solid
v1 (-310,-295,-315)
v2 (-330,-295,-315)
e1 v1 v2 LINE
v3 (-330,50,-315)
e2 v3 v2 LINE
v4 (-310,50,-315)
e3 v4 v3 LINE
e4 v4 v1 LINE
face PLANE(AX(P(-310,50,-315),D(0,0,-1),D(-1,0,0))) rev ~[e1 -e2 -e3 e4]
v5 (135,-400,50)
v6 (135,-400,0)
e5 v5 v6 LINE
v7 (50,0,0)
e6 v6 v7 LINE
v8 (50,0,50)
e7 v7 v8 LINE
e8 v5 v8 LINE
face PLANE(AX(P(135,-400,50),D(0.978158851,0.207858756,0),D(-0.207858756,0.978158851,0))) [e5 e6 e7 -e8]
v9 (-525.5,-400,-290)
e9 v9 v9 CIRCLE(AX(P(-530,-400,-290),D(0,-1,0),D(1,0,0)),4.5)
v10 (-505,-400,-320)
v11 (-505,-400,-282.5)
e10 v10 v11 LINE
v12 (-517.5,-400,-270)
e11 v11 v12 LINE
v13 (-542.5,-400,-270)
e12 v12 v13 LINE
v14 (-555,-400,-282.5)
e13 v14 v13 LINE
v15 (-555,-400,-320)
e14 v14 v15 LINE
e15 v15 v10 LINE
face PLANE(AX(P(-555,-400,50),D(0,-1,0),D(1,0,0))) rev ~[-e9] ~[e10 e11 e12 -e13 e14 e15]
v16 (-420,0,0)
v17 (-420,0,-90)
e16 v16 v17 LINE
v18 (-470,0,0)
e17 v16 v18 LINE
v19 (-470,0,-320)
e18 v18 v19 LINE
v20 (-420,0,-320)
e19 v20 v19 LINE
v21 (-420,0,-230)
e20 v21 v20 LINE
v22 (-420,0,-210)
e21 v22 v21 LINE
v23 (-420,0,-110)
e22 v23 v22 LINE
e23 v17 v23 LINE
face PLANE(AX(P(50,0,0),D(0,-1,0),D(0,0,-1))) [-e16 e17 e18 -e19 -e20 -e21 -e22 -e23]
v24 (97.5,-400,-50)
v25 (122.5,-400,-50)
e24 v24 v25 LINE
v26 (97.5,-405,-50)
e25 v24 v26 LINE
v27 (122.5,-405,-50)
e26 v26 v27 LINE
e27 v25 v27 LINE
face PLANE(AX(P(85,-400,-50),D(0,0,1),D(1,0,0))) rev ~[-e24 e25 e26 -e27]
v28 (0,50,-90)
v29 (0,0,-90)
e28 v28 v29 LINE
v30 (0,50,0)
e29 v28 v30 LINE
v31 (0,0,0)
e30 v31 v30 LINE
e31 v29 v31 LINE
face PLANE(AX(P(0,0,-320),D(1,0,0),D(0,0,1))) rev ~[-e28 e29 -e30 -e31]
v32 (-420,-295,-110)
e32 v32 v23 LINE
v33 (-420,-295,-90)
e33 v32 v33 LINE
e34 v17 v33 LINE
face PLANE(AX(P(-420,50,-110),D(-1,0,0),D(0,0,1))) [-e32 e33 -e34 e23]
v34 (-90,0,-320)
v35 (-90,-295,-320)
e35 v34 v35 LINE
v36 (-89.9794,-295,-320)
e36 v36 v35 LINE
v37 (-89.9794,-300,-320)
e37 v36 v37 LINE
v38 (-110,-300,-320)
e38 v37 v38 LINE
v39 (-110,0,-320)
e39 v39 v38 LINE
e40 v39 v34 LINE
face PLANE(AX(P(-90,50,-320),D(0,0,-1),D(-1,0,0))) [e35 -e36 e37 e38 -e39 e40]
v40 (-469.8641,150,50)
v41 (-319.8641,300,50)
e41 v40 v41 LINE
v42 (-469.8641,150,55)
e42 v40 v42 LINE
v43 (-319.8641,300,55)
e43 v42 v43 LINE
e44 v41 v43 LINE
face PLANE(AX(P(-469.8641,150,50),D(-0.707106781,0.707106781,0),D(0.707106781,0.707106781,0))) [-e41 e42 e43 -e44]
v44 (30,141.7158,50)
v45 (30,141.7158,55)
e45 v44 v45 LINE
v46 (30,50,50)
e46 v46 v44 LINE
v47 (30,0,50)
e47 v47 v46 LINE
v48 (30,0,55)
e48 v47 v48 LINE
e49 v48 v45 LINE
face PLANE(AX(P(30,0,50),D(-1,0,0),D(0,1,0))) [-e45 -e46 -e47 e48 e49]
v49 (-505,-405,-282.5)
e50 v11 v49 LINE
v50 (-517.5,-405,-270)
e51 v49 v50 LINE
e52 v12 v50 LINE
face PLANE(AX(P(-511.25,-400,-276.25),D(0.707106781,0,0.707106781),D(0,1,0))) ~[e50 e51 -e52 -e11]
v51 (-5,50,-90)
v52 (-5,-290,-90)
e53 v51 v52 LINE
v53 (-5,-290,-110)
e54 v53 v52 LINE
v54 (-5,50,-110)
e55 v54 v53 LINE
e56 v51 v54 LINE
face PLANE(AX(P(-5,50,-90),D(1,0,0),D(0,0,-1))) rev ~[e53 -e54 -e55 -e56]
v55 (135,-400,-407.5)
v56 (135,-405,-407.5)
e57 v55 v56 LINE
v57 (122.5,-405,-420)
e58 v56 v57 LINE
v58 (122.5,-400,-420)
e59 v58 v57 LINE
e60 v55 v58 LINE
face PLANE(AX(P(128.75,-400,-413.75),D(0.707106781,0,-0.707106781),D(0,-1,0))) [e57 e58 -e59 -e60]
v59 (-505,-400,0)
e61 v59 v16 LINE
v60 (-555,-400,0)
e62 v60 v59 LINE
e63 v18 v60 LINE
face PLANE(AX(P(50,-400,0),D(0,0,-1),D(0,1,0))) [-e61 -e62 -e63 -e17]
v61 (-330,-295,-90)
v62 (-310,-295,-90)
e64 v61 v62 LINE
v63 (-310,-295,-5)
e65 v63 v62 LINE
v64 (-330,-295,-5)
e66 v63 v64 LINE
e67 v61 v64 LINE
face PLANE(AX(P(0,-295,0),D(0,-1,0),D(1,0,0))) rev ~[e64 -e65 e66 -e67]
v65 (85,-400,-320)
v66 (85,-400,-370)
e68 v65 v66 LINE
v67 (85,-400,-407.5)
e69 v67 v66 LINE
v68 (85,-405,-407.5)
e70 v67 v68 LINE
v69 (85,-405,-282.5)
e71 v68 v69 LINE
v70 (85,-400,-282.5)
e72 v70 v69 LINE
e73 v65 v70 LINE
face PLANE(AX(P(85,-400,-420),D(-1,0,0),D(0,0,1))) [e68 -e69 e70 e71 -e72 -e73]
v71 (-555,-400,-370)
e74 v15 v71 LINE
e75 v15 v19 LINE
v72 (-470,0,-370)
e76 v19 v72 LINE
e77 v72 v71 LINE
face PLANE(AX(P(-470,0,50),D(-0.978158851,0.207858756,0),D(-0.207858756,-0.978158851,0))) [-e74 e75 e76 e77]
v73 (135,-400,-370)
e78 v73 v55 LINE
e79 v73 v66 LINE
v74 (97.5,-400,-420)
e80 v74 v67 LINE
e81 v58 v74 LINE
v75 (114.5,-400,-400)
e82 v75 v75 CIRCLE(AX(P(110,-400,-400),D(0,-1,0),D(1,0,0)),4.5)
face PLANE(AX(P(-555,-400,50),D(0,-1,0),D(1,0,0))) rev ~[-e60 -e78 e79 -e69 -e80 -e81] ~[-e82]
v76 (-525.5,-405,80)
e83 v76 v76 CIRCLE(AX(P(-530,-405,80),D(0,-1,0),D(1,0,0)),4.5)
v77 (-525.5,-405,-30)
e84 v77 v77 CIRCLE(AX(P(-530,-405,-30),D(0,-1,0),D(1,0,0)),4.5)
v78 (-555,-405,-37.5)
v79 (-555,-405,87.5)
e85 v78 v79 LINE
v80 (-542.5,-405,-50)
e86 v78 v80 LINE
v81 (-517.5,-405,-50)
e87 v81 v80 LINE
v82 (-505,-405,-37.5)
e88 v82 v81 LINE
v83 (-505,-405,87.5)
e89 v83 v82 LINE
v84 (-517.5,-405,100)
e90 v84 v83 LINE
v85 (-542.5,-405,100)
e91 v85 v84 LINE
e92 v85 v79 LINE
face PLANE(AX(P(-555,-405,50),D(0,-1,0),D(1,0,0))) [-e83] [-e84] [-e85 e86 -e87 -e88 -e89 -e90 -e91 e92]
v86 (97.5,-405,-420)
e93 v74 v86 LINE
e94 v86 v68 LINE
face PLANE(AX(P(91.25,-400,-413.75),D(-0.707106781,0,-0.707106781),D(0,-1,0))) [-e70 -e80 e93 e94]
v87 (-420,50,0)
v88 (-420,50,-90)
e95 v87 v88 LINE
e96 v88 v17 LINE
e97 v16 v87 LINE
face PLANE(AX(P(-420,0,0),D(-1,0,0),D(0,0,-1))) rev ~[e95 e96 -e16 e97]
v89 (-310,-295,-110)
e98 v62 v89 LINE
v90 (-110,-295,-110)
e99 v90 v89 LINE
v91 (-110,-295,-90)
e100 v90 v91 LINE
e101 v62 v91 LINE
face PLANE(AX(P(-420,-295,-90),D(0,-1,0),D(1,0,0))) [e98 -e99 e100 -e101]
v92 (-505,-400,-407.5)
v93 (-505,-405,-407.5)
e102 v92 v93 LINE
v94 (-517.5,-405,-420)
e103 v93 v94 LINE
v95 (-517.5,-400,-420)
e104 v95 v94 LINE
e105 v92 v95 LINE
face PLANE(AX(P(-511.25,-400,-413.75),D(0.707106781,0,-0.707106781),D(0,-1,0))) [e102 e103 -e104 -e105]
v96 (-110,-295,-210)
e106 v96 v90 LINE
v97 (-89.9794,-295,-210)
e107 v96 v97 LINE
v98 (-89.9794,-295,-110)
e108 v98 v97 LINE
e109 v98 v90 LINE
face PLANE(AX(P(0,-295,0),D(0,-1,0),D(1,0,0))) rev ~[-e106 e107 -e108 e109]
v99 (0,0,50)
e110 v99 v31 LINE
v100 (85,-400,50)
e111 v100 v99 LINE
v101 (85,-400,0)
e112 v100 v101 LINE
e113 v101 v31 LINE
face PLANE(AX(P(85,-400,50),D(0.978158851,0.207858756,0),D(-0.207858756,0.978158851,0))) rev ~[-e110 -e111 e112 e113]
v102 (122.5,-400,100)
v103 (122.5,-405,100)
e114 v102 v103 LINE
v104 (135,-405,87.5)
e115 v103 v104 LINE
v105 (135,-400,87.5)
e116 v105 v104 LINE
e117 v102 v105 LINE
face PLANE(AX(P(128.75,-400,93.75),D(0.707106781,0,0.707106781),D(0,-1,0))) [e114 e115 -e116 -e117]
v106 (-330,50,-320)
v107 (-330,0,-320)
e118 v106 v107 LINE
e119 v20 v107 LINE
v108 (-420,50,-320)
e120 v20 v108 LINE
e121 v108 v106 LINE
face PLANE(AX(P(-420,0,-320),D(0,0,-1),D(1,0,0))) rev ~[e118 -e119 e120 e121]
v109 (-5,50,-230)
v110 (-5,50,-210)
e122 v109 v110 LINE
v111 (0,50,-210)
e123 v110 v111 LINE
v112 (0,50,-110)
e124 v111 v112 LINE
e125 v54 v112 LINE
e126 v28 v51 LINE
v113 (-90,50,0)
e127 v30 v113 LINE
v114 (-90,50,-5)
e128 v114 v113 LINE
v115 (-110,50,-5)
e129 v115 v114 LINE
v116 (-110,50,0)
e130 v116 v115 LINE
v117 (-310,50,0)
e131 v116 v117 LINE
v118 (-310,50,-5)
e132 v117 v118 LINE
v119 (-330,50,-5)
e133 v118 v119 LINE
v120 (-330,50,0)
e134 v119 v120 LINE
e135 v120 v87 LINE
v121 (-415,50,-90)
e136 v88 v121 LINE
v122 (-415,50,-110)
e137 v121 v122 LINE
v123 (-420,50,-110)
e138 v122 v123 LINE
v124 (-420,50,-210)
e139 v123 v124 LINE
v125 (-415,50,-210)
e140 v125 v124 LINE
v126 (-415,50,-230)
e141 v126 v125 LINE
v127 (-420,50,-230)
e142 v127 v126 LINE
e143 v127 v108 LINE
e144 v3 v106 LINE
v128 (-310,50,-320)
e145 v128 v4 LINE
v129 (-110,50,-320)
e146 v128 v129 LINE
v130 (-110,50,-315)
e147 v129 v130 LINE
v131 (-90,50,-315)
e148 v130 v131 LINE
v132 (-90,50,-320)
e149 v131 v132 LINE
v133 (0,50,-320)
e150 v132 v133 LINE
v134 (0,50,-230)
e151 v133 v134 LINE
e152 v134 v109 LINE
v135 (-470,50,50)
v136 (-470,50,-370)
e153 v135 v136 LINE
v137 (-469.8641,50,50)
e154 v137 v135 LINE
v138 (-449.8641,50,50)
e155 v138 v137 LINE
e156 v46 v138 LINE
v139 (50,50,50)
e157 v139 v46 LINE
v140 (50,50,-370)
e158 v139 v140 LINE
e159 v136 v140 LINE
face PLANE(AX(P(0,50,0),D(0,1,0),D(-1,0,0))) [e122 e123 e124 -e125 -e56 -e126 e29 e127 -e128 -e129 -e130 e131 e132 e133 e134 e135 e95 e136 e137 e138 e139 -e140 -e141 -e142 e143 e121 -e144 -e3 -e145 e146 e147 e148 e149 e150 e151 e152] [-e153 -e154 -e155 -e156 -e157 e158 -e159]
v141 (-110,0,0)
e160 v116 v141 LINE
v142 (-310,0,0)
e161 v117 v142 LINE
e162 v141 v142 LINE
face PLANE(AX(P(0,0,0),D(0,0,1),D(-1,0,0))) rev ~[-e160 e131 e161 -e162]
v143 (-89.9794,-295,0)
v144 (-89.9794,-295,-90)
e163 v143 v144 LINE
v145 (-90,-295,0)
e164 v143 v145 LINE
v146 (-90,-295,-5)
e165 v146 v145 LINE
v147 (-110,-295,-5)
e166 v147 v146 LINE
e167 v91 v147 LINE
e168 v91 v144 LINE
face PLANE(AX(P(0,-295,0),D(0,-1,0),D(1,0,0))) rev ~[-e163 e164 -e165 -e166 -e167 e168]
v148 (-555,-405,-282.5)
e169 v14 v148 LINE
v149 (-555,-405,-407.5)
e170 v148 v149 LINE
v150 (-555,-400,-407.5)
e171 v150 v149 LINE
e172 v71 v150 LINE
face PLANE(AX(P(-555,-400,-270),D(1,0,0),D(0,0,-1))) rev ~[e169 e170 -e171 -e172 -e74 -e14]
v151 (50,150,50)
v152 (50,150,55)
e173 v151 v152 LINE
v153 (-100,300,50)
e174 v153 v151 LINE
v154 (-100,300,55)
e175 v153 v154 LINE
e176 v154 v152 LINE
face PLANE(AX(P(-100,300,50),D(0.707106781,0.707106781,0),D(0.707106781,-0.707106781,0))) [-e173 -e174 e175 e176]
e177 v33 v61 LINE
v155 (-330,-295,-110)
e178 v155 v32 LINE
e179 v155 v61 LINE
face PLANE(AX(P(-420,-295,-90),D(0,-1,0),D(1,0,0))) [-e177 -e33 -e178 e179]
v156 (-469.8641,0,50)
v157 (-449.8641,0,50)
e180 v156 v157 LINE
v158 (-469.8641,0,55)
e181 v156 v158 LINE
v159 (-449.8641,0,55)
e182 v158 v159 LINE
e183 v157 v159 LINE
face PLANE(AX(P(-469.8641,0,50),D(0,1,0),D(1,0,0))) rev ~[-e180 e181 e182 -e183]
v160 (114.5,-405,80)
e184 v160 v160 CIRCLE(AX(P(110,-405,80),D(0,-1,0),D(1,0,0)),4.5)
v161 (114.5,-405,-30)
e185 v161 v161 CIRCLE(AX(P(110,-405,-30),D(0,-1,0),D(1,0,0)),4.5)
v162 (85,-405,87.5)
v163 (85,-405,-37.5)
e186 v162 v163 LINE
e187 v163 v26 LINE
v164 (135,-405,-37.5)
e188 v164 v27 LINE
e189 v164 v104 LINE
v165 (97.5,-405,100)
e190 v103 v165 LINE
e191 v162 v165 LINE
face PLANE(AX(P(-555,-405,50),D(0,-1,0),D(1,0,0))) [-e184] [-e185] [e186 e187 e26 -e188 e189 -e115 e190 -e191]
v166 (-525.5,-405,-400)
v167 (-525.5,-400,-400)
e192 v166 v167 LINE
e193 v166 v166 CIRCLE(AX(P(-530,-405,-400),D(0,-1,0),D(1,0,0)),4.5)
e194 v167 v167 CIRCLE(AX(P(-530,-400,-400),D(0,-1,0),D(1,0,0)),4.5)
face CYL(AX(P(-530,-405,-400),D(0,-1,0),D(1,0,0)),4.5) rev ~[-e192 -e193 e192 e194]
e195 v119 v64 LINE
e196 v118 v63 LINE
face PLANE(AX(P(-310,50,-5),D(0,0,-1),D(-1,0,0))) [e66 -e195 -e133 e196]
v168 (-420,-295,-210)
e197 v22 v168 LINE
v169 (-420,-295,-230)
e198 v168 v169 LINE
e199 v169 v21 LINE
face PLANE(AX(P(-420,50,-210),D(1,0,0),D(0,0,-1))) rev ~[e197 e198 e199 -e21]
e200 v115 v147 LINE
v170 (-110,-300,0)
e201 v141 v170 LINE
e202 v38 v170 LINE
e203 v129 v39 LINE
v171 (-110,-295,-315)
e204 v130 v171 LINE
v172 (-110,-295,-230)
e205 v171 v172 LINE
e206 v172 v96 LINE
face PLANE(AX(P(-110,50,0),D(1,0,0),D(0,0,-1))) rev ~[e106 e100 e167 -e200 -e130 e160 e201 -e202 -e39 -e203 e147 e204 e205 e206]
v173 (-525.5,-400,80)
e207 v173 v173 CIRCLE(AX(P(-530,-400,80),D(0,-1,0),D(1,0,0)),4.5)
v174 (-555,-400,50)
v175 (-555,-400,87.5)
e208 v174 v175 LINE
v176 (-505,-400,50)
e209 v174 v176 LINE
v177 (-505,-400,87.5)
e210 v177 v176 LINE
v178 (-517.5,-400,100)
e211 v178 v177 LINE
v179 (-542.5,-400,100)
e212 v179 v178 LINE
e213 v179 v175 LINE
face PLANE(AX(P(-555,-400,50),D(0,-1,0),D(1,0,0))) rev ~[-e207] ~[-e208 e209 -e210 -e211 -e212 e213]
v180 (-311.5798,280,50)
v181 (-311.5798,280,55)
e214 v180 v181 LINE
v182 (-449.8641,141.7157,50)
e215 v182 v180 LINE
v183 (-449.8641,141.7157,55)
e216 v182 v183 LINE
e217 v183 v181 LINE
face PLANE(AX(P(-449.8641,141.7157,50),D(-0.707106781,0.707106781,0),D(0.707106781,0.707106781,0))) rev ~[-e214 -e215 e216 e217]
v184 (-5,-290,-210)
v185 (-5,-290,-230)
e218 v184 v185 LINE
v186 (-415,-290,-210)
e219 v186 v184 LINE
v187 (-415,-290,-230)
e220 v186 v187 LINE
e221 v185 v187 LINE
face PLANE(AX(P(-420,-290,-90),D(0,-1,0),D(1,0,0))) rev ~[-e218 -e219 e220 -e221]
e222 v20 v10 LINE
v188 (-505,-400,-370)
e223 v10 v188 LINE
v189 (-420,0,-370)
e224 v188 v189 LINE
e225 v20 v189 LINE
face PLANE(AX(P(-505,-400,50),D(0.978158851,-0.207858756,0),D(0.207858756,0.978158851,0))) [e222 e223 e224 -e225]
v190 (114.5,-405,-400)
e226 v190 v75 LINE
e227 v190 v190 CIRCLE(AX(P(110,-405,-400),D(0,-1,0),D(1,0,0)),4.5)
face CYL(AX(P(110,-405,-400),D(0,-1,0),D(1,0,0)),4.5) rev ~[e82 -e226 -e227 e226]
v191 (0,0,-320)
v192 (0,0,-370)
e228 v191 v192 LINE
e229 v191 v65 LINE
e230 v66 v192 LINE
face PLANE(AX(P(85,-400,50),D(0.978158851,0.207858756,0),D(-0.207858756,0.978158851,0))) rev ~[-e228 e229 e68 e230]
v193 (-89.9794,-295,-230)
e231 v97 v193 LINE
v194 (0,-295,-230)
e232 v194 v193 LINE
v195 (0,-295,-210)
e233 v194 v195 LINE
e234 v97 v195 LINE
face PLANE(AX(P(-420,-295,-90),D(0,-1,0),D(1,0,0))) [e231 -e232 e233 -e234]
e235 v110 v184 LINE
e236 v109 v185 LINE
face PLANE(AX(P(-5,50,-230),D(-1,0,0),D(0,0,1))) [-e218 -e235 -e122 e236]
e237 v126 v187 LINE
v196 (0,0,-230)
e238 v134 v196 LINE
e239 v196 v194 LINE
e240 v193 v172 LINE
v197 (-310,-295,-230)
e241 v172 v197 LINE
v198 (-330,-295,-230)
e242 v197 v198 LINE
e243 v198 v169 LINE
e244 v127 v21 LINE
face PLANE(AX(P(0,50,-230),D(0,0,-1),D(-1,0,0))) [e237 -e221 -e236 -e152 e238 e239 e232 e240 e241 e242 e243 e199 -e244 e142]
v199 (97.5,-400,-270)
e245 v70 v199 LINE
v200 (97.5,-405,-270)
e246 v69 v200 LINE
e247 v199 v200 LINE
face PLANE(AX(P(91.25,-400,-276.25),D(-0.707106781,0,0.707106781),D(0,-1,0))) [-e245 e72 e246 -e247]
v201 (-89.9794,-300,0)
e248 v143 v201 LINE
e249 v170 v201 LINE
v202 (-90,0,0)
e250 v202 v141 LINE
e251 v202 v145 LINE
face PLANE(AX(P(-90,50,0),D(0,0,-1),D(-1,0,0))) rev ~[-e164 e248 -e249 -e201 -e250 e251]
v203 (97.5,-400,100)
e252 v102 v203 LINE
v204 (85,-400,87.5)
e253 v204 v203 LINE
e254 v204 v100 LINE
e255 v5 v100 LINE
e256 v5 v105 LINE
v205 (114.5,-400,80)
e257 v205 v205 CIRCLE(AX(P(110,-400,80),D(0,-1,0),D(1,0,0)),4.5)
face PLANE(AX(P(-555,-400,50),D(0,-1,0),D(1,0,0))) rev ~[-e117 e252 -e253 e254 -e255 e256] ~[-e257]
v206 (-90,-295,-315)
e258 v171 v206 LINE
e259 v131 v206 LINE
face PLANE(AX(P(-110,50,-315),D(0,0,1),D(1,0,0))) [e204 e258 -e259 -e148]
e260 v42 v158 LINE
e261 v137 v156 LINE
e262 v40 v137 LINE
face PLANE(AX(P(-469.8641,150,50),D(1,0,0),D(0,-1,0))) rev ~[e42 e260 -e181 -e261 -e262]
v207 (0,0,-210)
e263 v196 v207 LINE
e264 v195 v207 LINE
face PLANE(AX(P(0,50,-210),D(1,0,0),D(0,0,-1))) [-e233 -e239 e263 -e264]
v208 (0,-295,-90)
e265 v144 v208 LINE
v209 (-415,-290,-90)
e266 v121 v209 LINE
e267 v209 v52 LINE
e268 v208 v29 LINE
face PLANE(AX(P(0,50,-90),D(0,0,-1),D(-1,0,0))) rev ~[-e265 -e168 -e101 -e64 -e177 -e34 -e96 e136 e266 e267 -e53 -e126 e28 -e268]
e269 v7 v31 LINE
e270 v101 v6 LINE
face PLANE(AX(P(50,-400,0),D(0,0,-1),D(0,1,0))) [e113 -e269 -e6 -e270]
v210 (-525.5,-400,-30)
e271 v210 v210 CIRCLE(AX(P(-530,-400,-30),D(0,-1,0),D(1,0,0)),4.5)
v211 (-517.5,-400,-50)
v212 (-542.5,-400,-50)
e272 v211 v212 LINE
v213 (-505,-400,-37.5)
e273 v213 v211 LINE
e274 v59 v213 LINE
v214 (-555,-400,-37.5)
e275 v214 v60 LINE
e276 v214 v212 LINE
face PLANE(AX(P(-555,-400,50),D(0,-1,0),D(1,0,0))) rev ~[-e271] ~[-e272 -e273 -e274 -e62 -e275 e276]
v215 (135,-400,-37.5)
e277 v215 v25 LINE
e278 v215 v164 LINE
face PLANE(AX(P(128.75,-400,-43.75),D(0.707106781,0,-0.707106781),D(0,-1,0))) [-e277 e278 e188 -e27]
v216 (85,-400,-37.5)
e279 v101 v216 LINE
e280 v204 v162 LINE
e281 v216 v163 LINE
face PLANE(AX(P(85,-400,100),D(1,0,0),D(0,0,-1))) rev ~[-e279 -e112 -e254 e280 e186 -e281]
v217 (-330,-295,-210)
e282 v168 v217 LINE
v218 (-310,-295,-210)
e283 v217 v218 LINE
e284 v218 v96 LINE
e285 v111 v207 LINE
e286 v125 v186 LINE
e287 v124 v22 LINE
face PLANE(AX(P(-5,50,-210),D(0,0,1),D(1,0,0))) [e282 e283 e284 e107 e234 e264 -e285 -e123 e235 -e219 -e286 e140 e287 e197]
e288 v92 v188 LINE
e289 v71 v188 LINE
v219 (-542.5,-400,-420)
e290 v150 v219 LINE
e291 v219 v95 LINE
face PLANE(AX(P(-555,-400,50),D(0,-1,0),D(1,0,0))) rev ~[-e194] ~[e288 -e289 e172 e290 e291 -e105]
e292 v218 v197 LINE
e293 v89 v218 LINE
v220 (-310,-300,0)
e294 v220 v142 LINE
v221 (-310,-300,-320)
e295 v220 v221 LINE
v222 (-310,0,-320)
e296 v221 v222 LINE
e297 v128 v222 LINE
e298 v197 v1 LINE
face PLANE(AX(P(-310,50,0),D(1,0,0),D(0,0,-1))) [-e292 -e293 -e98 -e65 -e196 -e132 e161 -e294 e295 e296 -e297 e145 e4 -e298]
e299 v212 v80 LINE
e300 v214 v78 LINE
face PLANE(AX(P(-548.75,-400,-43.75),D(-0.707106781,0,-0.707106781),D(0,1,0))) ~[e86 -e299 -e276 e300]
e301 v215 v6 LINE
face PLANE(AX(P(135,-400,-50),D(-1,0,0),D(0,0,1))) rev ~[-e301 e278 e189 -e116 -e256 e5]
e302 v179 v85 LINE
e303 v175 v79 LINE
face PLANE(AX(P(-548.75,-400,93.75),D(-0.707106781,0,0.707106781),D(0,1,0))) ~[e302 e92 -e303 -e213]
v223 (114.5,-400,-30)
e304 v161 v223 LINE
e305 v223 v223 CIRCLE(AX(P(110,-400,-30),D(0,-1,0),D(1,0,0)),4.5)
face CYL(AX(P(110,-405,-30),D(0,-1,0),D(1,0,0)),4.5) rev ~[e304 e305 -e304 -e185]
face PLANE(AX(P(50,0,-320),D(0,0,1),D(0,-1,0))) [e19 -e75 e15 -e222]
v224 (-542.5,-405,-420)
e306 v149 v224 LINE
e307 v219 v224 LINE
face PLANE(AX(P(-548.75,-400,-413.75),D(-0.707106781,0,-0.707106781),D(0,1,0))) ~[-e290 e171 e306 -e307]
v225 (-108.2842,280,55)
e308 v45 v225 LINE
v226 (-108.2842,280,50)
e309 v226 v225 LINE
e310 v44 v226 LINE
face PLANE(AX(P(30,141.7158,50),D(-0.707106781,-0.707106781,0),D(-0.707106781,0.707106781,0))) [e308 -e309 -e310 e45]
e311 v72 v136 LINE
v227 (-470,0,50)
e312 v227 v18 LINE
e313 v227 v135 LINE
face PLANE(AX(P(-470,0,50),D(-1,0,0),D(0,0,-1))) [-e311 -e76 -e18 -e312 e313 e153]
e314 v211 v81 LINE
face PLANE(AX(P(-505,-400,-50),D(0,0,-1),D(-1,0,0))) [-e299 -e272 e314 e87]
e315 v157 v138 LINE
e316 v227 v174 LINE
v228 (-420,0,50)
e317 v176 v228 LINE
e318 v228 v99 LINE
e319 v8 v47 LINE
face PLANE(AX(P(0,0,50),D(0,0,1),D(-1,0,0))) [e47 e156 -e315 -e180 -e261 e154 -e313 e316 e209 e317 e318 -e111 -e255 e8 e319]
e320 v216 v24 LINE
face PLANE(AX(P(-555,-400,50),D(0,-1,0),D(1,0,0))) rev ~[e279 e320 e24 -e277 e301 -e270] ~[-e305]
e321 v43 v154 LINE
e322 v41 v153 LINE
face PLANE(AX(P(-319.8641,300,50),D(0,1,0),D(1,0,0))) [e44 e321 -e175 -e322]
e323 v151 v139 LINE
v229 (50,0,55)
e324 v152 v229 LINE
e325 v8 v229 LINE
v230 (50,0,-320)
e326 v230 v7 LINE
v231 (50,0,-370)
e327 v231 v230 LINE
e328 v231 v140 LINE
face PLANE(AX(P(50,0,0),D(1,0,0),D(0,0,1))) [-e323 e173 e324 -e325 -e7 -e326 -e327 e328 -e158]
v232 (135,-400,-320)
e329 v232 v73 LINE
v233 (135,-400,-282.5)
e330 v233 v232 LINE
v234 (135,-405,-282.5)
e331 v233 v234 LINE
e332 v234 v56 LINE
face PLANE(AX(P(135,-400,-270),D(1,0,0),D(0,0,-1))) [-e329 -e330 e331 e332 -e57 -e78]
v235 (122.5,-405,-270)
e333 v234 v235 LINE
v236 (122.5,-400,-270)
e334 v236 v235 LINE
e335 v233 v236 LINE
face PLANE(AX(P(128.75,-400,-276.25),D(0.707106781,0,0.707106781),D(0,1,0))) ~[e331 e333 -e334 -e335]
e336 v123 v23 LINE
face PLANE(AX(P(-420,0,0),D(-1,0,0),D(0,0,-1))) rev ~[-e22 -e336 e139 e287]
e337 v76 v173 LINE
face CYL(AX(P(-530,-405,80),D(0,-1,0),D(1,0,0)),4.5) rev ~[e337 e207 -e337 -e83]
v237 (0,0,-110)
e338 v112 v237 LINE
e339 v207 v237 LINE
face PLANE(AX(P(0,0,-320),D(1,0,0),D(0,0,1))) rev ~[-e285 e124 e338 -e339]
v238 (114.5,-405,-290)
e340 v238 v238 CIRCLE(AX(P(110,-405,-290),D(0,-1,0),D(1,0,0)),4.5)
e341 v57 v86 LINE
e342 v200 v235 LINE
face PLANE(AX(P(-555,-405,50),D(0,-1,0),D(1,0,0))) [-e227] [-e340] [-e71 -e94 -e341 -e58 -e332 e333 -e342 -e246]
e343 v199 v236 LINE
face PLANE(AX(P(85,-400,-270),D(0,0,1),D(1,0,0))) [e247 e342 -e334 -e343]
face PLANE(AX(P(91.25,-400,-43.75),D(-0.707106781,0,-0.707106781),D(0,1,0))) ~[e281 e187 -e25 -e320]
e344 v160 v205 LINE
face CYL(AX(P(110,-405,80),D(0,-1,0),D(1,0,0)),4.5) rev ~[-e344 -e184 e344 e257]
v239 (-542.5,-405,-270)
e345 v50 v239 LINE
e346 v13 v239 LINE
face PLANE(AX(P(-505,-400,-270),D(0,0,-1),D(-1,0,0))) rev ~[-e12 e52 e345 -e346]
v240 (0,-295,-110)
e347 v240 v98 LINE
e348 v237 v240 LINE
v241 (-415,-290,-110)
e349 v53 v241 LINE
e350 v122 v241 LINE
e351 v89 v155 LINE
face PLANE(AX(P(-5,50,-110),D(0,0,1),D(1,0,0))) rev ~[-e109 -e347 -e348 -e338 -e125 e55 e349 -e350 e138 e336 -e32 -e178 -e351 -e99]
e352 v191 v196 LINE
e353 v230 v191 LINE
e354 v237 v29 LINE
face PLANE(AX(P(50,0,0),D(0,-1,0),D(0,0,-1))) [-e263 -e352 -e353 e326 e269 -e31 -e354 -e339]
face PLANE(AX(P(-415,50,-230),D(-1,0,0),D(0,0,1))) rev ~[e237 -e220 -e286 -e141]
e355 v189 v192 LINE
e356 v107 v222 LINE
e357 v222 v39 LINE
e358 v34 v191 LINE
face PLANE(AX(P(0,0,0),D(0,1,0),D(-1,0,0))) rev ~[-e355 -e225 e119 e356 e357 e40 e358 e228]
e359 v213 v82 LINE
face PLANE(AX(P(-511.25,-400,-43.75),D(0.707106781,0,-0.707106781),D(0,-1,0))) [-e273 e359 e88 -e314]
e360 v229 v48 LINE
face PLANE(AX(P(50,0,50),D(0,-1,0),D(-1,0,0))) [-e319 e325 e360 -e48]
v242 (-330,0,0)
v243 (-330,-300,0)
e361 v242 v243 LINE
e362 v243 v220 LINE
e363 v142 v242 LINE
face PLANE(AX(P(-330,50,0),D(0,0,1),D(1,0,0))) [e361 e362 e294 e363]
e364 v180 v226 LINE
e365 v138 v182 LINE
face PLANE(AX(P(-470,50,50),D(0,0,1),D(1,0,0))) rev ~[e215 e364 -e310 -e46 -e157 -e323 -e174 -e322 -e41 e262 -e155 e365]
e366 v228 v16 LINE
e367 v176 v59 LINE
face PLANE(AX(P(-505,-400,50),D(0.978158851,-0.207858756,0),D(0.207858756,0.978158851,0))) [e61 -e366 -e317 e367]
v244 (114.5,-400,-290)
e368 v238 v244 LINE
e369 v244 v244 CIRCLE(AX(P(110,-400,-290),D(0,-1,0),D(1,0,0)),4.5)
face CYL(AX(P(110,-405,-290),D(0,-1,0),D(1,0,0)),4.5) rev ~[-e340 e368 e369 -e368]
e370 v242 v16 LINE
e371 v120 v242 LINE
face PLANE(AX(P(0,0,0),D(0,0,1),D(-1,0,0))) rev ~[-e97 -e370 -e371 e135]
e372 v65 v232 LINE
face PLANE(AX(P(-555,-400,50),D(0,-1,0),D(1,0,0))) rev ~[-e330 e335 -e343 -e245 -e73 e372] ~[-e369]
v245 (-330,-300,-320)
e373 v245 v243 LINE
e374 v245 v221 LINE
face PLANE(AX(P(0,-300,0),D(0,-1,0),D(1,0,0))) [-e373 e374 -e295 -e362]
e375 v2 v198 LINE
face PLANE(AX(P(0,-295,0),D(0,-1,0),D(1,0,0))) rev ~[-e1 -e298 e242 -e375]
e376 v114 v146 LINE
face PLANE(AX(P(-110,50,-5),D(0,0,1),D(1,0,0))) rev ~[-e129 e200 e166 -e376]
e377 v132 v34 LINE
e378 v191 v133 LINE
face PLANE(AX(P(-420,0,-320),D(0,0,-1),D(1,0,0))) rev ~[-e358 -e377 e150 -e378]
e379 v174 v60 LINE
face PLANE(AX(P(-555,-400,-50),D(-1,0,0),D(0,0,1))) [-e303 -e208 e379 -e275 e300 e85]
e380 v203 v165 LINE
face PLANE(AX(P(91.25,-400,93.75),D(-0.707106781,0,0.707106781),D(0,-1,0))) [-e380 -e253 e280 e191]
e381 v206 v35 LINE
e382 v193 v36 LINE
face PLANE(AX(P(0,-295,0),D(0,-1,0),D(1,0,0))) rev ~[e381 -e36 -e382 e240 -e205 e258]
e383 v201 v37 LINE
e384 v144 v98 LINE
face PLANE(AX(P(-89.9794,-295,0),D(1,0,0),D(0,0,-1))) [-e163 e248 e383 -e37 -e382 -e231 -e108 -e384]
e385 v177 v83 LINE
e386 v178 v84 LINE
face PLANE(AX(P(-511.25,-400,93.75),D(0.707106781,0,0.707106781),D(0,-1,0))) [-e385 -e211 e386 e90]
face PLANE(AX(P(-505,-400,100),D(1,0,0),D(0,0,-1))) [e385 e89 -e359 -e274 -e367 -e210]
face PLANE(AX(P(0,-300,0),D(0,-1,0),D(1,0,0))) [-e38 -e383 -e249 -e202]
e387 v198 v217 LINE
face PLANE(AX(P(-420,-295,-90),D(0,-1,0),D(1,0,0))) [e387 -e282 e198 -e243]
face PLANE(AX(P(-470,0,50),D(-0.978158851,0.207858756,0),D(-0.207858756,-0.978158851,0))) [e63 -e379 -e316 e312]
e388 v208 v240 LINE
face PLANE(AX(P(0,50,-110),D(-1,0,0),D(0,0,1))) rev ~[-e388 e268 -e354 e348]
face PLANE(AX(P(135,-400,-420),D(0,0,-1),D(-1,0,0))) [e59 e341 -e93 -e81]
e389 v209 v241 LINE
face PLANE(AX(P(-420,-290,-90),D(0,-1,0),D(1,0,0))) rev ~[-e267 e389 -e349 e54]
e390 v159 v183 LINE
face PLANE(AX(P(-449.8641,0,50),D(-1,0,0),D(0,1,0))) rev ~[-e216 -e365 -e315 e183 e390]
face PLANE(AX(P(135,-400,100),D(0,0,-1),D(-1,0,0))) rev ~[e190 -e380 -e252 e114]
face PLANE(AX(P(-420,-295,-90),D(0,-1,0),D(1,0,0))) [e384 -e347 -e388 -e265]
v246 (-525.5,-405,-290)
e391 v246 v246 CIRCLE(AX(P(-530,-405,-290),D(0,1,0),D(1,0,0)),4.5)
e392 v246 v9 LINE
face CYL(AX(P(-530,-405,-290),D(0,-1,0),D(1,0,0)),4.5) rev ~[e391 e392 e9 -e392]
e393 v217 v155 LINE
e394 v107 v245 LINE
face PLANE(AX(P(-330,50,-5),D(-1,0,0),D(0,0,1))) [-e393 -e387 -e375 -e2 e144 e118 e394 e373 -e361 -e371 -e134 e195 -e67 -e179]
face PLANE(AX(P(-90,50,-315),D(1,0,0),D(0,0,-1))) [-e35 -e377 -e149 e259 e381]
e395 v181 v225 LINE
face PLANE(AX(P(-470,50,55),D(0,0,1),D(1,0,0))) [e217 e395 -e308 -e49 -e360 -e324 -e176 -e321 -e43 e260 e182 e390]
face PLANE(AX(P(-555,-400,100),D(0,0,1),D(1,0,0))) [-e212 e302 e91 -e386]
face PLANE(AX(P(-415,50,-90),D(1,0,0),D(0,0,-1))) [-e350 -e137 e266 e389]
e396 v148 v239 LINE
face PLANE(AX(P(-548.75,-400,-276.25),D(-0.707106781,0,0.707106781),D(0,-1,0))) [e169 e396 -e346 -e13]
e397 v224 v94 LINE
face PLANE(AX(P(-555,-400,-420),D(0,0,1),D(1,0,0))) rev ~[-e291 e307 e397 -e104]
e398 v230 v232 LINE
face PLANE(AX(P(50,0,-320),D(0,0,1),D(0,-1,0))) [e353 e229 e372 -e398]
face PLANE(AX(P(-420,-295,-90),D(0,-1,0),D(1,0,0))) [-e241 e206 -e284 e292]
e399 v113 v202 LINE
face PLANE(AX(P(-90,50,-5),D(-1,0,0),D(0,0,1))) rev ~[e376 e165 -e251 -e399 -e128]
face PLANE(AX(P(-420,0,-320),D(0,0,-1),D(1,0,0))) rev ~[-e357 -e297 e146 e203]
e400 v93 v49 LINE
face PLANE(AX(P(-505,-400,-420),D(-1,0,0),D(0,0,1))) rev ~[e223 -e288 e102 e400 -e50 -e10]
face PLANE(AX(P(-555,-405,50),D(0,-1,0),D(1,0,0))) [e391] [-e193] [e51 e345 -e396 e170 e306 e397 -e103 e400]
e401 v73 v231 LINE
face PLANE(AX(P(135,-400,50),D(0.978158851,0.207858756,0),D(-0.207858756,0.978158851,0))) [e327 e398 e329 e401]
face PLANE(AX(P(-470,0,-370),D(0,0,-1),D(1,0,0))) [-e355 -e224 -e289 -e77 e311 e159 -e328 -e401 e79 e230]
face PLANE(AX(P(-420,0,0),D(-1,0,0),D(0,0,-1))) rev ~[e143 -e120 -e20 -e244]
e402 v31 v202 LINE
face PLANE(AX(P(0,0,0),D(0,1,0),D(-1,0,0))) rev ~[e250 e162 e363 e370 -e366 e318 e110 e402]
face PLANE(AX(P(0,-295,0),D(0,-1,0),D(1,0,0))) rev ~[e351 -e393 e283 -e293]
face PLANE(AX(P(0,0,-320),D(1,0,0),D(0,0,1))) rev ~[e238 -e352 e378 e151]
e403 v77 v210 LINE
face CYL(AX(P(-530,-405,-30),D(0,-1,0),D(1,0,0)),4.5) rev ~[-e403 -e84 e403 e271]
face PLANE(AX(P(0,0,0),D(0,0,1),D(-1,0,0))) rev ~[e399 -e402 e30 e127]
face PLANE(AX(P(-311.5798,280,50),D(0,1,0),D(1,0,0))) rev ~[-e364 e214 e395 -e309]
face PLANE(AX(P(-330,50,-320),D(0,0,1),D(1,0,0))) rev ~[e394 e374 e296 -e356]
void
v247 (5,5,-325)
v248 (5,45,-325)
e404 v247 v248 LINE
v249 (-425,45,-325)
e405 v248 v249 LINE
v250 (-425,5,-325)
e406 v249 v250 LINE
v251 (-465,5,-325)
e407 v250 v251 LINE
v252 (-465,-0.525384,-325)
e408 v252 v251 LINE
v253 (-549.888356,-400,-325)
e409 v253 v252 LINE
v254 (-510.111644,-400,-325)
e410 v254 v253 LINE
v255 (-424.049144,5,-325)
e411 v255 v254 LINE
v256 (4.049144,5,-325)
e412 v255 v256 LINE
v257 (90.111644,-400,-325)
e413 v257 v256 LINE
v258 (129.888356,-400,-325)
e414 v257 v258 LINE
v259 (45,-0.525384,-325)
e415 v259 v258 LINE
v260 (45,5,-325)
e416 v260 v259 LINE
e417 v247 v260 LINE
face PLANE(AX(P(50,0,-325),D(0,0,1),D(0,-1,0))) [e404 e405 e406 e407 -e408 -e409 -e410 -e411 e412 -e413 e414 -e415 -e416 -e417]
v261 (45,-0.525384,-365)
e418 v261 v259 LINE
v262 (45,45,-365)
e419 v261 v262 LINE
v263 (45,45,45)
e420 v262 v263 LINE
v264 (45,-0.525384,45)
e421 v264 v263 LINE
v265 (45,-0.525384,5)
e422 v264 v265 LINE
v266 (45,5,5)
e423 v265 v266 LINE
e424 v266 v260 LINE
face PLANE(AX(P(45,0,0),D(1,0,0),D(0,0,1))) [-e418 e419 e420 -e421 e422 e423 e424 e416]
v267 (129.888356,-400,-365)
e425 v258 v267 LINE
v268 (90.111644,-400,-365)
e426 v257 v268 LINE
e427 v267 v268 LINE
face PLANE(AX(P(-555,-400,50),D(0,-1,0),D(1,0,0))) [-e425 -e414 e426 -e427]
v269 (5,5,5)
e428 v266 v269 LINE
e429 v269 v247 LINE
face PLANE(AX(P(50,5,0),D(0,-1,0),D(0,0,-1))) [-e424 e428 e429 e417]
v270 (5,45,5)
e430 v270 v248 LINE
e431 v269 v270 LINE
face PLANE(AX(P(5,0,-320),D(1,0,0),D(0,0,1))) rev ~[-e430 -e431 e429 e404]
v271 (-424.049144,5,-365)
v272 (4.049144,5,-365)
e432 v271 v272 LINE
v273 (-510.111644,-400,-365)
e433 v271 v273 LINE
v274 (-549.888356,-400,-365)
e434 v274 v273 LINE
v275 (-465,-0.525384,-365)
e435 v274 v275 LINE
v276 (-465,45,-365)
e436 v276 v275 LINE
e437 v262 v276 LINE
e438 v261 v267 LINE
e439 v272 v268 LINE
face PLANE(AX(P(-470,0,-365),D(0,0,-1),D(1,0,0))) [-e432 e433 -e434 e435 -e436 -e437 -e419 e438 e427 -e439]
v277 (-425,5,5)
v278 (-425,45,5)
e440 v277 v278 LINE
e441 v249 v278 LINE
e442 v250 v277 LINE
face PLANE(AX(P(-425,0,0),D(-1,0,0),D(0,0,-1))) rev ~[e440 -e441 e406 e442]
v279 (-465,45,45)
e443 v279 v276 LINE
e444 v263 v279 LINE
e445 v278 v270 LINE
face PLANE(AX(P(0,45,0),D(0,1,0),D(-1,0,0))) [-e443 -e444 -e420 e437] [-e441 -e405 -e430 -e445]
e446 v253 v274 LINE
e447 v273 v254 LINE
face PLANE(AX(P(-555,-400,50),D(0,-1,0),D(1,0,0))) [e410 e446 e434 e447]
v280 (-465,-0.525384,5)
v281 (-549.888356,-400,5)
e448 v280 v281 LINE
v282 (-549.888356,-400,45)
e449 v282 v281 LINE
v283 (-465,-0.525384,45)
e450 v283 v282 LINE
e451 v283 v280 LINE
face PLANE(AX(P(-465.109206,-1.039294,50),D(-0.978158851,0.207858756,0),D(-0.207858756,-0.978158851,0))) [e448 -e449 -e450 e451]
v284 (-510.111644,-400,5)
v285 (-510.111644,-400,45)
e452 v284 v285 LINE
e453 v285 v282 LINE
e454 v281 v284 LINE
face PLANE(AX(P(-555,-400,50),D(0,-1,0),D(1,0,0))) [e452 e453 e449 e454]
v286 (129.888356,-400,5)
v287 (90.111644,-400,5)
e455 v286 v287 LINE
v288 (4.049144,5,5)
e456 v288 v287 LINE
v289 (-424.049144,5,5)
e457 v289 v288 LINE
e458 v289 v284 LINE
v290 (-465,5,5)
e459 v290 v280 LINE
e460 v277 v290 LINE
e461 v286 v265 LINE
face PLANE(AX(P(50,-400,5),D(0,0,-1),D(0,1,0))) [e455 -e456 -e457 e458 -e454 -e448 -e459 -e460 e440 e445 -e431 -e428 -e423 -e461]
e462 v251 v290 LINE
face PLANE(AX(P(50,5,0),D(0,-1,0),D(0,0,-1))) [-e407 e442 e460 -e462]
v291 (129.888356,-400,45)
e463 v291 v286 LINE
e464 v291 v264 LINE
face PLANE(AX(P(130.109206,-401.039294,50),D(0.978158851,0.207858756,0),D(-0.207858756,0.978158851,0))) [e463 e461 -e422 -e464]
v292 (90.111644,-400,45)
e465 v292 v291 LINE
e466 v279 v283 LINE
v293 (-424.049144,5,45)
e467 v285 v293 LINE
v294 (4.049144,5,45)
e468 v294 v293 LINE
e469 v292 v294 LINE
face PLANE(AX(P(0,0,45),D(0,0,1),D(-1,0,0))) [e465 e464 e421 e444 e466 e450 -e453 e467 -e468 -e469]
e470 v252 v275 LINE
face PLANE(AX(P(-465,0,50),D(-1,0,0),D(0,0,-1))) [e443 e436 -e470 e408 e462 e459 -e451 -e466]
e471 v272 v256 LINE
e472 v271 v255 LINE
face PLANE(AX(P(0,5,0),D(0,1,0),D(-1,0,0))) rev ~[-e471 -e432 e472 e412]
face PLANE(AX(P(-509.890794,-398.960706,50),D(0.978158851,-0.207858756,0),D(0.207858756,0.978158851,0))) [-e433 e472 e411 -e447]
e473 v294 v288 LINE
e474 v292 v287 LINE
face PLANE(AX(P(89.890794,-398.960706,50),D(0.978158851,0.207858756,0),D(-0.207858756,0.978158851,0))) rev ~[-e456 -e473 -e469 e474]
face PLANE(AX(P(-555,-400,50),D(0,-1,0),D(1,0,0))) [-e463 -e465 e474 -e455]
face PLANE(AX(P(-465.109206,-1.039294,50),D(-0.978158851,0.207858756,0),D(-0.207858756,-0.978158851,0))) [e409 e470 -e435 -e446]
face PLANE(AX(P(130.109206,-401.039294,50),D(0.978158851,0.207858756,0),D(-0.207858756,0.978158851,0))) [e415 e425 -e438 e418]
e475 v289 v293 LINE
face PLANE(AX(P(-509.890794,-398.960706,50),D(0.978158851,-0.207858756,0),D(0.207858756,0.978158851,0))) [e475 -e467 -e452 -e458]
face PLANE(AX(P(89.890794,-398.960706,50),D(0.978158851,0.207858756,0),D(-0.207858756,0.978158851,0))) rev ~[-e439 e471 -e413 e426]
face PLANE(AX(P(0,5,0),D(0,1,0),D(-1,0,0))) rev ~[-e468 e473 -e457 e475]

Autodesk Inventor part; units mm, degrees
ref_plane "YZ Plane" through (0, 0, 0) normal (1, 0, 0) x (0, 1, 0)
ref_plane "XZ Plane" through (0, 0, 0) normal (0, 1, 0) x (-1, 0, 0)
ref_plane "XY Plane" through (0, 0, 0) normal (0, 0, 1) x (1, 0, 0)
sketch "Skizze1" plane through (0, 0, 0) normal (0, 1, 0) x (-1, 0, 0)
  line L0 (0, 0) -> (420, 0)
  line L1 (420, 0) -> (420, -320)
  line L2 (420, -320) -> (0, -320)
  line L3 (0, -320) -> (0, 0)
  line L4 (0, 0) -> (-50, 0)
  line L5 (-50, 0) -> (-50, 50)
  line L6 (-50, 50) -> (0, 50)
  line L7 (0, 50) -> (0, 0)
  line L8 (-50, 50) -> (470, 50)
  line L9 (470, 50) -> (470, -370)
  line L10 (470, -370) -> (-50, -370)
  line L11 (-50, -370) -> (-50, 50)
  dimension "d0" = 420
  dimension "d1" = 320
  dimension "d2" = 50
  dimension "d3" = 50
  dimension "d4" = 520
  dimension "d5" = 420
extrude "Extrusion1" add sketch "Skizze1" along normal blind 50
sketch "Skizze2" plane through (-470, 0, 50) normal (0, 0, 1) x (1, 0, 0)
  line L0 (520, 0) -> (0, 0) construction
  line L1 (0, 0) -> (0, -400) construction
  line L2 (0, -400) -> (-85, -400) construction
  line L3 (0, 0) -> (-85, -400)
  line L4 (-85, -400) -> (-35, -400)
  line L5 (-35, -400) -> (50, 0)
  line L6 (50, 0) -> (0, 0)
  line L7 (520, 0) -> (520, -400) construction
  line L8 (520, 0) -> (920, 0) construction
  line L9 (520, -400) -> (605, -400) construction
  line L10 (605, -400) -> (520, 0)
  line L11 (605, -400) -> (555, -400)
  line L12 (555, -400) -> (470, 0)
  line L13 (520, 0) -> (470, 0)
  dimension "d8" = 400
  dimension "d9" = 85
  dimension "d10" = 90
  dimension "d11" = 50
  dimension "d12" = 400
  dimension "d13" = 90
  dimension "d14" = 85
  dimension "d15" = 90
  dimension "d16" = 50
extrude "Extrusion2" add sketch "Skizze2" against normal blind 420
sketch "Skizze3" plane through (50, 50, 50) normal (1, 0, 0) x (0, 0, -1)
  line L0 (420, -50) -> (0, -50) construction
  line L1 (0, -50) -> (50, -50) construction
  line L2 (0, -450) -> (420, -450) projected
  line L3 (50, -50) -> (370, -50)
  line L4 (370, -50) -> (370, -450)
  line L5 (370, -450) -> (50, -450)
  line L6 (50, -450) -> (50, -50)
  dimension "d19" = 50
  dimension "d20" = 320
extrude "Extrusion3" cut sketch "Skizze3" against normal mid plane 2000
shell "Wandung2" thickness 5 removed faces 4 at (-538.3333, -400, -336.6667) at (101.6667, -400, -336.6667) at (101.6667, -400, 33.3333) at (-538.3333, -400, 33.3333)
sketch "Skizze4" plane through (-555, -400, 50) normal (0, -1, 0) x (1, 0, 0)
  line L0 (0, 0) -> (0, -50) construction
  line L1 (0, 0) -> (0, 50) construction
  line L2 (0, 50) -> (50, 50)
  line L3 (50, 50) -> (50, -100)
  line L4 (50, -100) -> (0, -100)
  line L5 (0, -100) -> (0, 50)
  line L6 (85, 0) -> (605, 0) projected
  line L7 (345, 0) -> (345, -420)
  line L8 (555, -420) -> (135, -420) projected
  line L9 (85, -370) -> (85, -50) projected
  line L10 (85, -210) -> (605, -210)
  line L11 (605, 0) -> (605, -420) projected
  line L12 (690, 0) -> (690, -50) construction
  line L13 (690, 0) -> (690, 50) construction
  line L14 (690, 50) -> (640, 50)
  line L15 (640, 50) -> (640, -100)
  line L16 (640, -100) -> (690, -100)
  line L17 (690, -100) -> (690, 50)
  line L18 (0, -420) -> (0, -370) construction
  line L19 (0, -420) -> (0, -470) construction
  line L20 (0, -470) -> (50, -470)
  line L21 (50, -470) -> (50, -320)
  line L22 (50, -320) -> (0, -320)
  line L23 (0, -320) -> (0, -470)
  line L24 (640, -320) -> (690, -320)
  line L25 (640, -470) -> (640, -320)
  line L26 (690, -420) -> (690, -370) construction
  line L27 (690, -320) -> (690, -470)
  line L28 (690, -470) -> (640, -470)
  line L29 (690, -420) -> (690, -470) construction
  point P0 (555, -50)
  dimension "d25" = 50
  dimension "d26" = 50
  dimension "d27" = 150
extrude "Extrusion4" add sketch "Skizze4" along normal blind 5 contours L2 L3 L4 L5 | L17 L16 L15 L14 | L23 L22 L21 L20 | L24 L27 L28 L25
chamfer "Fase1" distance 12.5 angle 45 16 edges at (-555, -402.5, 100) (-505, -402.5, 100) (85, -402.5, 100) (135, -402.5, 100) (85, -402.5, -270) (135, -402.5, -270) (-555, -402.5, -270) (-505, -402.5, -270) (-555, -402.5, -50) (-505, -402.5, -50) (-555, -402.5, -420) (-505, -402.5, -420) (85, -402.5, -50) (135, -402.5, -50) (85, -402.5, -420) (135, -402.5, -420)
sketch "Skizze5" plane through (-555, -405, 50) normal (0, -1, 0) x (1, 0, 0)
  line L0 (0, -370) -> (0, -420) projected
  line L1 (0, -395) -> (50, -395)
  line L2 (50, -370) -> (50, -420) projected
  line L3 (37.5, -320) -> (12.5, -320) projected
  line L4 (25, -320) -> (25, -340)
  circle A0 centre (25, -340) radius 4.5
  circle A1 centre (25, -450) radius 4.5
  line L5 (130.9509, -5) -> (559.0491, -5) projected
  line L6 (345, -5) -> (345, -420)
  line L7 (555, -420) -> (135, -420) projected
  line L8 (85, -420) -> (85, 0) projected
  line L9 (85, -210) -> (600, -210)
  line L10 (600, -5) -> (600, -415) projected
  circle A2 centre (25, -80) radius 4.5
  circle A3 centre (25, 30) radius 4.5
  circle A4 centre (665, -340) radius 4.5
  circle A5 centre (665, -450) radius 4.5
  circle A6 centre (665, -80) radius 4.5
  circle A7 centre (665, 30) radius 4.5
  point P0 (555, -50)
  dimension "d33" = 20
  dimension "d34" = 9
extrude "Extrusion5" cut sketch "Skizze5" against normal blind 5
sketch "Skizze6" plane through (0, 50, 0) normal (0, 1, 0) x (1, 0, 0)
  line L0 (-420, 320) -> (-470, 320) construction
  line L1 (-420, 320) -> (-330, 320) construction
  line L2 (-420, 320) -> (0, 320) construction
  line L3 (-420, 320) -> (-420, 230) construction
  line L4 (-420, 0) -> (-420, 320) construction
  line L5 (-330, 320) -> (-310, 320)
  line L6 (-310, 320) -> (-310, 315)
  line L7 (-310, 315) -> (-330, 315)
  line L8 (-330, 315) -> (-330, 320)
  line L9 (-420, 230) -> (-415, 230)
  line L10 (-415, 230) -> (-415, 210)
  line L11 (-415, 210) -> (-420, 210)
  line L12 (-420, 210) -> (-420, 230)
  line L13 (50, 370) -> (-470, 370) projected
  line L14 (-210, 370) -> (-210, -50)
  line L15 (-470, -50) -> (50, -50) projected
  line L16 (-470, 370) -> (-470, -50) projected
  line L17 (-470, 160) -> (236.5178, 160)
  line L18 (5, 325) -> (5, -5) projected
  line L19 (-330, 0) -> (-310, 0)
  line L20 (-310, 0) -> (-310, 5)
  line L21 (-310, 5) -> (-330, 5)
  line L22 (-330, 5) -> (-330, 0)
  line L23 (-420, 90) -> (-415, 90)
  line L24 (-415, 90) -> (-415, 110)
  line L25 (-415, 110) -> (-420, 110)
  line L26 (-420, 110) -> (-420, 90)
  line L27 (-90, 320) -> (-110, 320)
  line L28 (-110, 320) -> (-110, 315)
  line L29 (-110, 315) -> (-90, 315)
  line L30 (-90, 315) -> (-90, 320)
  line L31 (0, 230) -> (-5, 230)
  line L32 (-5, 230) -> (-5, 210)
  line L33 (-5, 210) -> (0, 210)
  line L34 (0, 210) -> (0, 230)
  line L35 (0, 90) -> (-5, 90)
  line L36 (-5, 110) -> (0, 110)
  line L37 (0, 110) -> (0, 90)
  line L38 (-5, 90) -> (-5, 110)
  line L39 (-90, 5) -> (-90, 0)
  line L40 (-90, 0) -> (-110, 0)
  line L41 (-110, 0) -> (-110, 5)
  line L42 (-110, 5) -> (-90, 5)
  point P0 (0, 0)
  dimension "d37" = 90
  dimension "d38" = 90
  dimension "d39" = 20
  dimension "d40" = 5
  dimension "d41" = 5
  dimension "d42" = 20
extrude "Extrusion6" add sketch "Skizze6" against normal blind 345 contours L5 L6 L7 L8 | L9 L10 L11 L12 | L22 L21 L20 L19 | L26 L25 L24 L23 | L30 L29 L28 L27 | L34 L33 L32 L31 | L35 L38 L36 L37 | L39 L40 L41 L42
sketch "Skizze7" plane through (-415, -295, -90) normal (0, 0, 1) x (1, 0, 0)
  line L0 (-5, 0) -> (0, 0) projected
  line L1 (0, 0) -> (-5, 0)
  line L2 (-5, 0) -> (-5, 5)
  line L3 (-5, 5) -> (0, 5)
  line L4 (0, 5) -> (0, 0)
  line L5 (409.2958, 0) -> (419.1788, 0)
  line L6 (419.1788, 0) -> (419.1788, 5)
  line L7 (419.1788, 5) -> (409.2958, 5)
  line L8 (409.2958, 5) -> (409.2958, 0)
  point P0 (415, 295)
  dimension "d45" = 5
  dimension "d46" = 5
  dimension "d47" = 5
extrude "Extrusion7" cut sketch "Skizze7" against normal blind 345
sketch "Skizze8" plane through (-420, -290, -90) normal (0, -1, 0) x (1, 0, 0)
  line L0 (0, 90) -> (0, 0) projected
  line L1 (0, 0) -> (420, 0)
  line L2 (420, 0) -> (420, -20)
  line L3 (420, -20) -> (0, -20)
  line L4 (0, -20) -> (0, 0)
  line L5 (0, -120) -> (0, -140) projected
  line L6 (420, -140) -> (420, -120) projected
  line L7 (0, -120) -> (420, -120)
  line L8 (420, -120) -> (420, -140)
  line L9 (420, -140) -> (0, -140)
  line L10 (0, -140) -> (0, -120)
  point P0 (420, 90)
extrude "Extrusion8" add sketch "Skizze8" along normal blind 5
sketch "Skizze9" plane through (0, -295, 0) normal (0, -1, 0) x (1, 0, 0)
  line L0 (-330, -320) -> (-310, -320) projected
  line L1 (-330, 0) -> (-310, 0)
  line L2 (-310, 0) -> (-310, -320)
  line L3 (-310, -320) -> (-330, -320)
  line L4 (-330, -320) -> (-330, 0)
  line L5 (-90, 0) -> (-110, 0) projected
  line L6 (-89.9794, -320) -> (-110, -320)
  line L7 (-110, -320) -> (-110, 0)
  line L8 (-110, 0) -> (-89.9794, 0)
  line L9 (-89.9794, 0) -> (-89.9794, -320)
  point P0 (0, 0)
extrude "Extrusion9" add sketch "Skizze9" along normal blind 5
sketch "Skizze10" plane through (-470, 50, 50) normal (0, 0, 1) x (1, 0, 0)
  line L0 (520, -50) -> (470, -50) projected
  line L1 (520, -50) -> (500, -50)
  line L2 (500, -50) -> (500, 100)
  line L3 (500, 100) -> (520, 100)
  line L4 (520, 100) -> (520, -50)
  line L5 (0.1359, -50) -> (20.1359, -50)
  line L6 (20.1359, -50) -> (20.1359, 100)
  line L7 (20.1359, 100) -> (0.1359, 100)
  line L8 (0.1359, 100) -> (0.1359, -50)
  line L9 (0.1359, 100) -> (280.1125, 379.9766) construction
  line L10 (0.1359, 100) -> (396.0827, 100) construction
  line L11 (520, 100) -> (260.068, 359.932) construction
  line L12 (520, 100) -> (887.5994, 100) construction
  line L13 (360, 0) -> (160, 0) construction
  line L14 (260, 0) -> (260, 250) construction
  line L15 (260, 0) -> (510, 0) construction
  line L16 (260, 250) -> (150.1359, 250) construction
  line L17 (260, 250) -> (370, 250) construction
  line L18 (0.1359, 100) -> (150.1359, 250)
  line L19 (150.1359, 250) -> (370, 250)
  line L20 (370, 250) -> (520, 100)
  line L21 (370, 250) -> (355.8579, 235.8579) construction
  line L22 (150.1359, 250) -> (164.2781, 235.8579) construction
  line L23 (370, 250) -> (520, 100)
  line L24 (520, 100) -> (505.8579, 85.8579)
  line L25 (505.8579, 85.8579) -> (355.8579, 235.8579)
  line L26 (355.8579, 235.8579) -> (370, 250)
  line L27 (370, 250) -> (150.1359, 250)
  line L28 (150.1359, 250) -> (150.1359, 230)
  line L29 (150.1359, 230) -> (370, 230)
  line L30 (370, 230) -> (370, 250)
  line L31 (150.1359, 250) -> (0.1359, 100)
  line L32 (0.1359, 100) -> (14.2781, 85.8579)
  line L33 (14.2781, 85.8579) -> (164.2781, 235.8579)
  line L34 (164.2781, 235.8579) -> (150.1359, 250)
  point P0 (20.1359, 91.7157)
  point P1 (158.4202, 230)
  point P2 (361.7157, 230)
  point P3 (500, 91.7157)
  dimension "d54" = 20
  dimension "d55" = 150
  dimension "d56" = 20
  dimension "d57" = 150
  dimension "d58" = 45
  dimension "d59" = 135
  dimension "d60" = 250
  dimension "d61" = 90
  dimension "d62" = 20
  dimension "d63" = 20
  dimension "d64" = 20
  dimension "d65" = 20
  dimension "d66" = 20
extrude "Extrusion10" add sketch "Skizze10" along normal blind 5
properties part number "zweite_Ebene" material "Aluminium 6061"
